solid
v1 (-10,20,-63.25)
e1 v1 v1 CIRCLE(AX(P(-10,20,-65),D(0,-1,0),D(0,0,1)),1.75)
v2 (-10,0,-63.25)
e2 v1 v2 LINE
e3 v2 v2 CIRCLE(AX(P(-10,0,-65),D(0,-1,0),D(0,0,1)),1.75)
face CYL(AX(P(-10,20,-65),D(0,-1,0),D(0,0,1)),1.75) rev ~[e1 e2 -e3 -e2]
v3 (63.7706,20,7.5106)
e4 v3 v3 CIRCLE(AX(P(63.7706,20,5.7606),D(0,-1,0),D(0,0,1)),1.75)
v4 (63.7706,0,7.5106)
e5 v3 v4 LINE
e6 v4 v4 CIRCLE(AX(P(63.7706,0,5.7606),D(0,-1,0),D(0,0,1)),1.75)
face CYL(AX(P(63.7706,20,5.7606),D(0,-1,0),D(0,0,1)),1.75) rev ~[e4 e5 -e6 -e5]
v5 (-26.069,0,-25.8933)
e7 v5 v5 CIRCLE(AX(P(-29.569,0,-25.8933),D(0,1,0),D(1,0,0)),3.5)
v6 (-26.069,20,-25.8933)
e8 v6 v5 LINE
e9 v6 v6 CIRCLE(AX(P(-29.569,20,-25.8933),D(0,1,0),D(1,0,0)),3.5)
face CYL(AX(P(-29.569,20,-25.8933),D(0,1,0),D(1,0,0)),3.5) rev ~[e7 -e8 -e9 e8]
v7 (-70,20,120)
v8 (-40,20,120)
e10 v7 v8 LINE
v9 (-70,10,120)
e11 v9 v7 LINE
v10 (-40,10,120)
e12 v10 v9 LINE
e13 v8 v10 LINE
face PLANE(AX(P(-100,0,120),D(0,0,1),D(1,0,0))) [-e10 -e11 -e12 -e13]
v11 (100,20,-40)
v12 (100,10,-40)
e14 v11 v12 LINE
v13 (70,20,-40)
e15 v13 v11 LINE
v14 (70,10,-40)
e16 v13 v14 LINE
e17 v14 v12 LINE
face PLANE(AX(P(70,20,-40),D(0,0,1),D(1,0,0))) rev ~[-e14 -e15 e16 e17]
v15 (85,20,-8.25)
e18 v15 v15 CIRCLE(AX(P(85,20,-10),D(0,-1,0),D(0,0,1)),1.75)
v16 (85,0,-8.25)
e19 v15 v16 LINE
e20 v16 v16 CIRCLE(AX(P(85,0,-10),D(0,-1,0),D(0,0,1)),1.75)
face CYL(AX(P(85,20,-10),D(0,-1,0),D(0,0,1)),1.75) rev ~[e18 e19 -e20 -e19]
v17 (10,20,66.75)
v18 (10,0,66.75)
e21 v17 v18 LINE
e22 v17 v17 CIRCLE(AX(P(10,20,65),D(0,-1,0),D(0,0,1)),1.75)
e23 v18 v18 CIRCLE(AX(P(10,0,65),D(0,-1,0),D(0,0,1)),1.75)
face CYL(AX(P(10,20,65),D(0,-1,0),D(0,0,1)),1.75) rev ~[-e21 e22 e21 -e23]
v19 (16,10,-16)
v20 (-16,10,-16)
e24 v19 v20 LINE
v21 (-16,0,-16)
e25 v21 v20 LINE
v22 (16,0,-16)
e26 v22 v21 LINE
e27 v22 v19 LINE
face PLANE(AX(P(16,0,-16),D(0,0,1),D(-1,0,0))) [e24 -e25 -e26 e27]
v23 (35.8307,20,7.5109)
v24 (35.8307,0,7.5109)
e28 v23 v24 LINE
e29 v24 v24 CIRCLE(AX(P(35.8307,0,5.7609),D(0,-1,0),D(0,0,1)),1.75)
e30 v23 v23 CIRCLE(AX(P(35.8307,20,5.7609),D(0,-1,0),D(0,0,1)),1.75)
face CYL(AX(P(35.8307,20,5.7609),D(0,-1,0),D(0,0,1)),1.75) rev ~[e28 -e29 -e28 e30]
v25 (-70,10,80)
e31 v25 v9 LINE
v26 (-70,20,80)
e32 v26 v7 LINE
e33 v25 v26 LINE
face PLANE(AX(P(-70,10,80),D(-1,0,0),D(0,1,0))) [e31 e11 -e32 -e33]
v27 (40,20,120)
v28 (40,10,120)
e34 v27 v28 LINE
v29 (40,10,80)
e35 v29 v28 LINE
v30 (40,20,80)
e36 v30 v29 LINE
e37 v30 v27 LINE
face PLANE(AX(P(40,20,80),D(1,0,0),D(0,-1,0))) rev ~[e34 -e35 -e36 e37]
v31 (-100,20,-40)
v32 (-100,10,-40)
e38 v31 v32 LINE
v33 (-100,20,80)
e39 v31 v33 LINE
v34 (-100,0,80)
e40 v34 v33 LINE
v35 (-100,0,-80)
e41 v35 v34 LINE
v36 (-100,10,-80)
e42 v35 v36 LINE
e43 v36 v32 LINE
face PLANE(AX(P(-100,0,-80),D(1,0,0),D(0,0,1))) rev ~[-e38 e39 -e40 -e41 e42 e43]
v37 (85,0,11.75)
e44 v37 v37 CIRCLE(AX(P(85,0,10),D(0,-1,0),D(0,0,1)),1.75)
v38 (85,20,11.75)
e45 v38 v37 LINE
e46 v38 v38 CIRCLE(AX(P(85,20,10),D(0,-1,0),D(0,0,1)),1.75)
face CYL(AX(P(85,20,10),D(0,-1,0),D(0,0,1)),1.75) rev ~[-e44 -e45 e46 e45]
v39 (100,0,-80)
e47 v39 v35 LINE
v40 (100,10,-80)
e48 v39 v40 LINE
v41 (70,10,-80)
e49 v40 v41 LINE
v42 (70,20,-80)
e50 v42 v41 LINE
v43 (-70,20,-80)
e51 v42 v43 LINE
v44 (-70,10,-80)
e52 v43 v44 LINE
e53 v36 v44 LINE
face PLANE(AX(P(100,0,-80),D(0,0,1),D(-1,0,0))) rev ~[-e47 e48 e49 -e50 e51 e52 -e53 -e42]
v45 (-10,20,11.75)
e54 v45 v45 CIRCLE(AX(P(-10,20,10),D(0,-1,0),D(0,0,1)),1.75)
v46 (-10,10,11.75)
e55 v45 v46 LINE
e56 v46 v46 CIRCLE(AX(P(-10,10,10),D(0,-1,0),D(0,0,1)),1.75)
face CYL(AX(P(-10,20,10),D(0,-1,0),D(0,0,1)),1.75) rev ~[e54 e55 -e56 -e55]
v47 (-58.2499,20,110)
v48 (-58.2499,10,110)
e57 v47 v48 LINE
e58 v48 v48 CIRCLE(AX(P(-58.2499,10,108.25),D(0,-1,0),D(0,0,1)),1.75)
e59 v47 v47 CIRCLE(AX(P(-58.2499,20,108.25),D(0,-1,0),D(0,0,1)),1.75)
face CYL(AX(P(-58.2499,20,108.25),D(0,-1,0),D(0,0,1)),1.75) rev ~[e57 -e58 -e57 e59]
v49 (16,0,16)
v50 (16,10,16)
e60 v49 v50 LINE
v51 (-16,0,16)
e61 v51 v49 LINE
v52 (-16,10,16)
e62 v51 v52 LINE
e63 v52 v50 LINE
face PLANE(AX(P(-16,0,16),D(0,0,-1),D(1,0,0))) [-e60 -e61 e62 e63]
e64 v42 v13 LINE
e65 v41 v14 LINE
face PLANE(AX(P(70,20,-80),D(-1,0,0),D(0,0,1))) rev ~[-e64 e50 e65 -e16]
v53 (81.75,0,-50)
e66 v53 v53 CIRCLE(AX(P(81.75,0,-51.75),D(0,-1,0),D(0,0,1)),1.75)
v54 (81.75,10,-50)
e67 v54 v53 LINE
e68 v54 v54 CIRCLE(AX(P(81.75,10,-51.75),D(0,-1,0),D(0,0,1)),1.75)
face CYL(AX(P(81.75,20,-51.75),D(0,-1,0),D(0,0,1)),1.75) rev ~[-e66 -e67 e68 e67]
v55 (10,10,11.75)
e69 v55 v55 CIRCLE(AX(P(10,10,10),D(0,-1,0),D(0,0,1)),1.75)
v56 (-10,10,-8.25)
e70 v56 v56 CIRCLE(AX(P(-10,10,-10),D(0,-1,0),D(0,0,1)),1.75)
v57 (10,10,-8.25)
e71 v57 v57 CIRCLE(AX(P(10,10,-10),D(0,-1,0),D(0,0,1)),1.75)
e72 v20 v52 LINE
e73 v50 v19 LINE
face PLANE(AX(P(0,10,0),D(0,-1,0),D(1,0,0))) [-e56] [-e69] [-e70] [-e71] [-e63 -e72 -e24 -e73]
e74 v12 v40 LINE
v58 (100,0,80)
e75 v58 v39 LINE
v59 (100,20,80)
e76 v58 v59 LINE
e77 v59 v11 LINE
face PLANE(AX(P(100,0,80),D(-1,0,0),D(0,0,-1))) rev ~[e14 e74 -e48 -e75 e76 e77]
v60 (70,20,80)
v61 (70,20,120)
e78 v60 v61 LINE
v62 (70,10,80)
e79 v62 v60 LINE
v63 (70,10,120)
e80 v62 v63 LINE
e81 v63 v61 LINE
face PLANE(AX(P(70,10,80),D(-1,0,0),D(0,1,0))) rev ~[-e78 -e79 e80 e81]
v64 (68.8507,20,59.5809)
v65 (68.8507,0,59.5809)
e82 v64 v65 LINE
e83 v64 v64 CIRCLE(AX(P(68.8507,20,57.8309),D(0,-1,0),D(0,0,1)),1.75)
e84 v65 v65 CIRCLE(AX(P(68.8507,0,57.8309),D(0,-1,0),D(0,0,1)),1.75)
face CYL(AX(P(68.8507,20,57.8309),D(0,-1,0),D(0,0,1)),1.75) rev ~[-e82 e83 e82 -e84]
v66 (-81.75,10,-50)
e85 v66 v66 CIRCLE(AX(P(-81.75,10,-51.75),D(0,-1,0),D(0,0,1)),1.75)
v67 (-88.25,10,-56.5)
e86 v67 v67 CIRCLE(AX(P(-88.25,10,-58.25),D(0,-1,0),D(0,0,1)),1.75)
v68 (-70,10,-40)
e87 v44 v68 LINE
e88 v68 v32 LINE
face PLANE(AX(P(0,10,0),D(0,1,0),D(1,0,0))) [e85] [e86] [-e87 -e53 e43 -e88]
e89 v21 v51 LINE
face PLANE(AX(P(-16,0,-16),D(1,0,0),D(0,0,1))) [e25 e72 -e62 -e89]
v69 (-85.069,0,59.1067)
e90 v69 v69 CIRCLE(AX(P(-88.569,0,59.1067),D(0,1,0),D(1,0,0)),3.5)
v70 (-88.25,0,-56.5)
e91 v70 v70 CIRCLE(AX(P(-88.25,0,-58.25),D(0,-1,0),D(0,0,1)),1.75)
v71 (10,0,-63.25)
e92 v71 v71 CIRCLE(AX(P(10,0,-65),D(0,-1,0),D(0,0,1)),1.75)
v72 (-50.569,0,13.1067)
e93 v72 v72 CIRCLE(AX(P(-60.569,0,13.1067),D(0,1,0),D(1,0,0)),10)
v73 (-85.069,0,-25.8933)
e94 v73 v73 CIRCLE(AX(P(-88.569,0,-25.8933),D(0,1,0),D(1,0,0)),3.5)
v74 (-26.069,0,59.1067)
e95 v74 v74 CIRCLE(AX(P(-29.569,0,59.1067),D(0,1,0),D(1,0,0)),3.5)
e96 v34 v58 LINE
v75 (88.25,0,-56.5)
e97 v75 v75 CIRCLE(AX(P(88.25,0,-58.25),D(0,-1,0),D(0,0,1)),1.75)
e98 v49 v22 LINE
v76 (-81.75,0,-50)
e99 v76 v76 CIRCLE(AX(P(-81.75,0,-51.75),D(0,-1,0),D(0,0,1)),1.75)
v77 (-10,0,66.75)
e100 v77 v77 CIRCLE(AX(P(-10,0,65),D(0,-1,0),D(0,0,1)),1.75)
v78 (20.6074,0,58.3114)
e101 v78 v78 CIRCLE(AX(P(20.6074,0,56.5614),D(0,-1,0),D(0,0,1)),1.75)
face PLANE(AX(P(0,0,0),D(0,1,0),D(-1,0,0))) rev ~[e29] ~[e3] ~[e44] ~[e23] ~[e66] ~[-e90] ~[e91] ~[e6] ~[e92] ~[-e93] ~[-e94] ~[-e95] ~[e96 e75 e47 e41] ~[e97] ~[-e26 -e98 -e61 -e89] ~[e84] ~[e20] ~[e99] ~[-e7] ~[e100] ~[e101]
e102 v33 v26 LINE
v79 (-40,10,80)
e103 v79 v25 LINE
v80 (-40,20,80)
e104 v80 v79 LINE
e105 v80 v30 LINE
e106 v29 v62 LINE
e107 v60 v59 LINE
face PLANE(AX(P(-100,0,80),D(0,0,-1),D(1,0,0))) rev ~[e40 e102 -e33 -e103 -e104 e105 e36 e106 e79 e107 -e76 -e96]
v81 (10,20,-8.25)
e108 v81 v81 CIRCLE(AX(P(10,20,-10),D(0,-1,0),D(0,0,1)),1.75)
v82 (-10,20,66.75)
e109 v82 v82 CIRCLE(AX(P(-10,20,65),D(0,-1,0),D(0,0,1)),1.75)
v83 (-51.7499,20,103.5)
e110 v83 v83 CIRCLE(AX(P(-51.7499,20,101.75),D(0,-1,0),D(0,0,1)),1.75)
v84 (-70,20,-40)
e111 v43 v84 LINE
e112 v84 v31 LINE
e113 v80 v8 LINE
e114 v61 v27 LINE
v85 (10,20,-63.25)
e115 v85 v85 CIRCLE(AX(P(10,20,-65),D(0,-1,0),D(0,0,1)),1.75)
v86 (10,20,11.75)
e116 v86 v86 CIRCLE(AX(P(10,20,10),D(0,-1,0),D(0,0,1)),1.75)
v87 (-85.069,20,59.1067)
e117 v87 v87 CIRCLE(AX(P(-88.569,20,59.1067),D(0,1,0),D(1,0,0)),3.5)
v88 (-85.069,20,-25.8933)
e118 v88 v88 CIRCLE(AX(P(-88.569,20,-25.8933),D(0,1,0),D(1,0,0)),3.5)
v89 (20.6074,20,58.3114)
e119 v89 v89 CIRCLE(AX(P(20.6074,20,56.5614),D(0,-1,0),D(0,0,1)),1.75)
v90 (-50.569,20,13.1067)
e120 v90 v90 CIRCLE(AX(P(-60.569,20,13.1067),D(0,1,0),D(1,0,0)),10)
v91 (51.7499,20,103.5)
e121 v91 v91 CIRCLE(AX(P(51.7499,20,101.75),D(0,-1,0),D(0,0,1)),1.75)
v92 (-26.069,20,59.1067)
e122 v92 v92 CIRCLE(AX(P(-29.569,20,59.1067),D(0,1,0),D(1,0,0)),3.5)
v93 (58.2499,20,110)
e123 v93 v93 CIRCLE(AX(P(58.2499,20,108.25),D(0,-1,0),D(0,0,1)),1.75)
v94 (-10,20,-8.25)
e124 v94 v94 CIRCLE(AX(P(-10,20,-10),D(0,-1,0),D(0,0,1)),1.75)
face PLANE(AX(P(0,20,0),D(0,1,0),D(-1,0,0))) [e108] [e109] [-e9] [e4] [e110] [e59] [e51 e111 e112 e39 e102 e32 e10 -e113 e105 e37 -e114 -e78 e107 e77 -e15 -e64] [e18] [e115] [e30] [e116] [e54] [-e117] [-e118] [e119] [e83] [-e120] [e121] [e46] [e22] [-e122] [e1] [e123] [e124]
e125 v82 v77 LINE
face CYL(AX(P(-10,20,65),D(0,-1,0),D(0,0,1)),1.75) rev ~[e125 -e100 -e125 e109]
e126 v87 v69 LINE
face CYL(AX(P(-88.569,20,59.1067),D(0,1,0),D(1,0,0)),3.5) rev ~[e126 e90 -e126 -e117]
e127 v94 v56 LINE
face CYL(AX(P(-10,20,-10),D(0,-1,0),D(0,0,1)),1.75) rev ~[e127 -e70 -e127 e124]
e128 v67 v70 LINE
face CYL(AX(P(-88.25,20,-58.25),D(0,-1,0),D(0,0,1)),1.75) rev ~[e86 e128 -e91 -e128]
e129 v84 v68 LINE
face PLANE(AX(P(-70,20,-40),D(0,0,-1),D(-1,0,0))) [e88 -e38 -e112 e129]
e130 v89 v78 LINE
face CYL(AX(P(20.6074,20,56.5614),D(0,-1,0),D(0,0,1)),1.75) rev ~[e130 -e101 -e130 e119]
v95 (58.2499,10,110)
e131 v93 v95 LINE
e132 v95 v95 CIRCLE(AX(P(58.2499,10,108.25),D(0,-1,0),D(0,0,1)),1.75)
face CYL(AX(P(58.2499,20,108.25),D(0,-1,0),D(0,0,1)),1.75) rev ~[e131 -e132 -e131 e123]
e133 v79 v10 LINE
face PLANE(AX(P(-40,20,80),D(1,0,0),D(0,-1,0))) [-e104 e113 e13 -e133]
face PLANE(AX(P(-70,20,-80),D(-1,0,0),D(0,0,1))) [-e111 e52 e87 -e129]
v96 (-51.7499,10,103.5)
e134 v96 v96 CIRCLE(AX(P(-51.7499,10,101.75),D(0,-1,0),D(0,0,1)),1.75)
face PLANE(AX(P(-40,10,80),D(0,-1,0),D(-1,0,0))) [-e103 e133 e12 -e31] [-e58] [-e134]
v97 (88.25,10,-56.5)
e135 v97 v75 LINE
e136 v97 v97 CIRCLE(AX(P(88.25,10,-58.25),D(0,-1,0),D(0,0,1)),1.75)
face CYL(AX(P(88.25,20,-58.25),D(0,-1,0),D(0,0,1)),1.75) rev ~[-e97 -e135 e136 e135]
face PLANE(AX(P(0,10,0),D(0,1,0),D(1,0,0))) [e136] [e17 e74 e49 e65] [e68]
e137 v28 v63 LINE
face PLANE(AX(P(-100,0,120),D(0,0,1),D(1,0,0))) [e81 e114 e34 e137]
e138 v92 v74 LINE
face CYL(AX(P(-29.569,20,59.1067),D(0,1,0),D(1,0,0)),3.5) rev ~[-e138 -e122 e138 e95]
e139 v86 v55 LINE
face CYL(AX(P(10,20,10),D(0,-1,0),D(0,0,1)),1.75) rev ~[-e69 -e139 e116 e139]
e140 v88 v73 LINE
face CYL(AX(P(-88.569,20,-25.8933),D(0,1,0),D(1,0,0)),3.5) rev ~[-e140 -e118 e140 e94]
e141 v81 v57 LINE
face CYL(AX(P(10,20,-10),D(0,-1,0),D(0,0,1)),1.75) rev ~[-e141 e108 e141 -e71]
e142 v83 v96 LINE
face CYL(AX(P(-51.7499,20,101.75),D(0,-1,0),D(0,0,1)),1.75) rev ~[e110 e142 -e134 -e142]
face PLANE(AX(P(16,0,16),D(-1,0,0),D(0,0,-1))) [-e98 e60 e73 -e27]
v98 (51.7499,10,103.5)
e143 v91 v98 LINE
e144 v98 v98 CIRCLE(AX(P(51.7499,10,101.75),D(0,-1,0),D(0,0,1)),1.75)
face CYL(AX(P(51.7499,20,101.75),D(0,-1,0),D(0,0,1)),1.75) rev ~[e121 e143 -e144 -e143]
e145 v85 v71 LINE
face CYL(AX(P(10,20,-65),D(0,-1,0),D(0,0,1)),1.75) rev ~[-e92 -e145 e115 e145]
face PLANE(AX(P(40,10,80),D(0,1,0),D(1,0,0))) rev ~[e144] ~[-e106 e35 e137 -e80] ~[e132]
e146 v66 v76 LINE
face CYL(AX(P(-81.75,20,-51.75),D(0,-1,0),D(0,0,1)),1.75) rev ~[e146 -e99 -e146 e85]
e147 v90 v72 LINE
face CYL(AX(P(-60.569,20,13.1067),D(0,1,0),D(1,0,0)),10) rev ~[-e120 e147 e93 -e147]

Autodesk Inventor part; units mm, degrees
ref_plane "YZ Plane" through (0, 0, 0) normal (1, 0, 0) x (0, 1, 0)
ref_plane "XZ Plane" through (0, 0, 0) normal (0, 1, 0) x (-1, 0, 0)
ref_plane "XY Plane" through (0, 0, 0) normal (0, 0, 1) x (1, 0, 0)
sketch "Boceto1" plane through (0, 0, 0) normal (0, 1, 0) x (-1, 0, 0)
  line L0 (100, 80) -> (-100, 80)
  line L1 (-100, 80) -> (-100, -80)
  line L2 (-100, -80) -> (100, -80)
  line L3 (100, -80) -> (100, 80)
  line L4 (100, 80) -> (-100, -80) construction
  line L5 (-100, 80) -> (100, -80) construction
  point P0 (0, 0)
  dimension "d0" = 200
  dimension "d1" = 160
extrude "Extrusión1" add sketch "Boceto1" along normal blind 20
sketch "Boceto2" plane through (0, 20, 0) normal (0, 1, 0) x (1, 0, 0)
  line L0 (-100, 80) -> (-100, -80) projected
  line L1 (-100, 80) -> (-70, 80)
  line L2 (-70, 80) -> (-70, 40)
  line L3 (-70, 40) -> (-100, 40)
  line L4 (-100, 40) -> (-100, 80)
  line L5 (100, 80) -> (-100, 80) projected
  line L6 (0, 80) -> (0, 40)
  line L7 (100, 80) -> (70, 80)
  line L8 (70, 80) -> (70, 40)
  line L9 (70, 40) -> (100, 40)
  line L10 (100, 40) -> (100, 80)
  point P0 (0, 0)
  dimension "d4" = 30
  dimension "d5" = 40
extrude "Extrusión2" cut sketch "Boceto2" against normal blind 10
sketch "Boceto3" plane through (0, 20, 0) normal (0, 1, 0) x (1, 0, 0)
  line L0 (-70, 80) -> (-70, 40) projected
  line L1 (-70, 80.0001) -> (-70, 40)
  line L2 (-70, 40) -> (-100, 40) projected
  line L3 (-100, 40) -> (-100, 80.0001)
  line L4 (-100, 40) -> (-70, 40)
  line L5 (-70, 40) -> (-70, 80)
  line L6 (-70, 80) -> (-100, 80)
  line L7 (-100, 80) -> (-100, 40)
  circle A0 centre (-88.25, 58.25) radius 1.75
  circle A1 centre (-81.75, 51.75) radius 1.75
  line L8 (100, 80) -> (-100, 80) projected
  line L9 (0, 80) -> (0, 56.5)
  circle A2 centre (88.25, 58.25) radius 1.75
  circle A3 centre (81.75, 51.75) radius 1.75
  point P0 (0, 0)
  point P1 (-64.3507, 80)
  point P2 (-74.3507, 0)
  point P3 (-85, 80)
  dimension "d23" = 21.75
  dimension "d24" = 11.75
  dimension "d26" = 11.75
hole "Agujero1" at (-81.75, 20, -51.75) at (-88.25, 20, -58.25) at (81.75, 20, -51.75) at (88.25, 20, -58.25) direction (0, -1, 0) diameter 3.5 end through all
sketch "Boceto4" plane through (-100, 0, 80) normal (0, 0, 1) x (1, 0, 0)
  line L0 (30, 20) -> (60, 20)
  line L1 (60, 20) -> (60, 10)
  line L2 (60, 10) -> (30, 10)
  line L3 (30, 10) -> (30, 20)
  line L4 (0, 0) -> (0, 20) projected
  line L5 (100, 0) -> (100, 10)
  line L6 (170, 20) -> (140, 20)
  line L7 (140, 20) -> (140, 10)
  line L8 (140, 10) -> (170, 10)
  line L9 (170, 10) -> (170, 20)
  dimension "d34" = 30
  dimension "d35" = 10
  dimension "d36" = 30
extrude "Extrusión3" add sketch "Boceto4" along normal blind 40
sketch "Boceto5" plane through (0, 20, 0) normal (0, 1, 0) x (1, 0, 0)
  line L0 (59.9999, -50) -> (69.9999, -50)
  line L1 (49.9999, -101.75) -> (49.9999, -79.9497)
  line L2 (59.9999, -108.25) -> (59.9999, -50)
  line L3 (40, -80) -> (69.9999, -80)
  line L4 (49.9999, -79.9497) -> (40, -80)
  circle A0 centre (51.7499, -101.75) radius 1.75
  circle A1 centre (58.2499, -108.25) radius 1.75
  line L5 (69.9999, -80) -> (69.9999, -120)
  line L6 (40, -120) -> (40, -80)
  line L7 (69.9999, -120) -> (40, -120)
  line L8 (0, -50) -> (0, -71.75)
  line L9 (-40, -120) -> (-40, -80)
  line L10 (-49.9999, -101.75) -> (-49.9999, -79.9497)
  circle A2 centre (-51.7499, -101.75) radius 1.75
  circle A3 centre (-58.2499, -108.25) radius 1.75
  line L11 (-40, -80) -> (-69.9999, -80)
  line L12 (-69.9999, -120) -> (-40, -120)
  line L13 (-69.9999, -80) -> (-69.9999, -120)
  line L14 (-59.9999, -108.25) -> (-59.9999, -50)
  line L15 (-40, -120) -> (-69.9999, -120)
  line L16 (-69.9999, -80) -> (-69.9999, -120)
  line L17 (-40, -120) -> (-70, -120) projected
  line L18 (-40, -80) -> (-40, -120) projected
  line L19 (-59.9999, -110) -> (-49.9999, -110)
  line L20 (-49.9999, -110) -> (-49.9999, -100)
  line L21 (-49.9999, -100) -> (-59.9999, -100)
  line L22 (-59.9999, -100) -> (-59.9999, -110)
  line L23 (-100, 40) -> (-100, -80) projected
  point P0 (0, 0)
  point P1 (-56.75, -68.25)
  point P2 (-63.25, -61.75)
  point P3 (63.25, -61.75)
  point P4 (56.75, -68.25)
  dimension "d45" = 3.5
  dimension "d46" = 3.5
  dimension "d39" = 10
  dimension "d40" = 10
  dimension "d41" = 40
  dimension "d42" = 0
  dimension "d43" = 6.5
  dimension "d44" = 6.5
  dimension "d47" = 11.7499
  dimension "d48" = 11.75
  dimension "d49" = 0
  dimension "d50" = 11.75
  dimension "d51" = 0
  dimension "d97" = 40.0001
hole "Agujero2" at (-58.2499, 20, 108.25) at (-51.7499, 20, 101.75) at (51.7499, 20, 101.75) at (58.2499, 20, 108.25) direction (0, -1, 0) diameter 3.5 end through all
sketch "Boceto6" plane through (0, 20, 0) normal (0, 1, 0) x (1, 0, 0)
  circle A0 centre (-60.569, -13.1067) radius 10
  circle A1 centre (-29.569, -59.1067) radius 3.5
  line L0 (-60.569, -13.1067) -> (-39.0083, -13.1067)
  circle A2 centre (-29.569, 25.8933) radius 3.5
  circle A3 centre (-88.569, 25.8933) radius 3.5
  circle A4 centre (-88.569, -59.1067) radius 3.5
  line L1 (70.4544, -63.0517) -> (18.4544, -63.0517)
  line L2 (18.4544, -63.0517) -> (18.4544, 6.9483)
  line L3 (18.4544, 6.9483) -> (70.4544, 6.9483)
  line L4 (70.4544, 6.9483) -> (70.4544, -63.0517)
  line L5 (70.4544, 6.9483) -> (48.4544, 6.9483)
  line L6 (48.4544, 6.9483) -> (48.4544, 48.9483)
  line L7 (48.4544, 48.9483) -> (70.4544, 48.9483)
  line L8 (70.4544, 48.9483) -> (70.4544, 6.9483)
  line L9 (77.2288, -8.158) -> (77.2281, -5.6604)
  circle A5 centre (63.7706, -5.7606) radius 1.75
  line L10 (70.7641, -24.1464) -> (70.7641, 22.2796)
  circle A6 centre (35.8307, -5.7609) radius 1.75
  line L11 (25.1581, -13.2381) -> (25.1581, -10.7404)
  circle A7 centre (68.8507, -57.8309) radius 1.75
  line L12 (26.4277, 35.0051) -> (26.4277, 37.5029)
  circle A8 centre (20.6074, -56.5614) radius 1.75
  line L13 (18.6941, -55.9176) -> (70.7641, -55.9176)
  line L14 (18.6941, -55.9176) -> (18.6941, -7.6743)
  line L15 (44.7291, -55.9176) -> (44.7291, -31.7959)
  line L16 (63.7706, -28.0517) -> (26.4277, -28.0517)
  line L17 (44.7291, -23.5247) -> (44.7291, -31.7959)
  point P0 (0, 0)
  point P1 (-60.569, -16.6067)
  point P2 (45.425, 12.8886)
  point P3 (44.7291, -28.0517)
  dimension "d59" = 7
  dimension "d60" = 7
  dimension "d61" = 7
  dimension "d62" = 39
  dimension "d63" = 46
  dimension "d64" = 59
  dimension "d65" = 46
  dimension "d66" = 39
  dimension "d67" = 59
  dimension "d68" = 52
  dimension "d69" = 70
  dimension "d70" = 22
  dimension "d71" = 42
  dimension "d72" = 3.5
  dimension "d73" = 3.5
  dimension "d74" = 3.5
  dimension "d75" = 3.5
  dimension "d142" = 17.3763
  dimension "d143" = 12.7092
  dimension "d144" = 6.6837
  dimension "d145" = 12.7089
  dimension "d146" = 5.2208
  dimension "d147" = 1.6037
  dimension "d148" = 2.1531
  dimension "d149" = 6.4903
hole "Agujero3" at (68.8507, 20, 57.8309) at (20.6074, 20, 56.5614) at (63.7706, 20, 5.7606) at (35.8307, 20, 5.7609) direction (0, -1, 0) diameter 3.5 end through all
sketch "Boceto7" plane through (0, 20, 0) normal (0, 1, 0) x (1, 0, 0)
  circle A0 centre (-60.569, -13.1067) radius 10
  circle A1 centre (-29.569, -59.1067) radius 3.5
  line L0 (-60.569, -13.1067) -> (-39.0083, -13.1067)
  circle A2 centre (-29.569, 25.8933) radius 3.5
  circle A3 centre (-88.569, 25.8933) radius 3.5
  circle A4 centre (-88.569, -59.1067) radius 3.5
  point P0 (0, 0)
  point P1 (-60.569, -16.6067)
  dimension "d83" = 7
  dimension "d84" = 7
  dimension "d85" = 7
  dimension "d86" = 39
  dimension "d87" = 46
  dimension "d88" = 59
  dimension "d89" = 46
  dimension "d90" = 39
  dimension "d91" = 59
extrude "Extrusión4" cut sketch "Boceto7" against normal blind 20
ref_plane "Plano de trabajo1" through (0, 0, -80) normal (-1, 0, 0) x (0, 0, 1)
ref_plane "Plano de trabajo2" through (100, 0, 0) normal (0, 0, -1) x (-1, 0, 0)
sketch "Boceto8" plane through (0, 20, 0) normal (0, 1, 0) x (1, 0, 0)
  line L0 (80, -15) -> (90, -15)
  circle A0 centre (85, -10) radius 1.75
  line L1 (85, 10) -> (85, -10)
  line L2 (90, -15) -> (90, 15)
  circle A1 centre (85, 10) radius 1.75
  line L3 (80, 15) -> (80, -15)
  line L4 (90, 15) -> (80, -15) construction
  line L5 (80, 15) -> (90, -15) construction
  line L6 (90, 15) -> (80, 15)
  line L7 (100, -80) -> (100, 40) projected
  line L8 (0, 0) -> (20, -20)
  line L9 (0, 0) -> (28.2843, 0) construction
  line L10 (15, -60) -> (15, -70)
  circle A2 centre (10, -65) radius 1.75
  line L11 (-10, -65) -> (10, -65)
  line L12 (15, -70) -> (-15, -70)
  circle A3 centre (-10, -65) radius 1.75
  line L13 (-15, -60) -> (15, -60)
  line L14 (-15, -70) -> (15, -60) construction
  line L15 (-15, -60) -> (15, -70) construction
  line L16 (-15, -70) -> (-15, -60)
  line L17 (0, 0) -> (18.6615, 18.6615)
  line L18 (0, 0) -> (26.3913, 0) construction
  line L19 (-15, 60) -> (-15, 70)
  circle A4 centre (-10, 65) radius 1.75
  line L20 (10, 65) -> (-10, 65)
  line L21 (-15, 70) -> (15, 70)
  circle A5 centre (10, 65) radius 1.75
  line L22 (15, 60) -> (-15, 60)
  line L23 (15, 70) -> (-15, 60) construction
  line L24 (15, 60) -> (-15, 70) construction
  line L25 (15, 70) -> (15, 60)
  line L26 (70, 80) -> (-70, 80) projected
  line L27 (-40, -80) -> (40, -80) projected
  point P0 (86.9608, 0)
  point P1 (86.9608, 0)
  point P2 (85, 15)
  point P3 (0, -69.1269)
  point P4 (0, -69.1269)
  point P5 (-15, -67.1661)
  point P6 (0, 69.7066)
  point P7 (0, 69.7066)
  point P8 (15, 67.7458)
  point P9 (-15, 65)
  point P10 (15, -65)
  dimension "d98" = 10
  dimension "d99" = 30
  dimension "d100" = 10
  dimension "d101" = 5
  dimension "d102" = 5
  dimension "d103" = 5
  dimension "d104" = 5
  dimension "d105" = 45
  dimension "d106" = 45
  dimension "d107" = 10
  dimension "d108" = 10
  dimension "d109" = 30
  dimension "d110" = 5
  dimension "d111" = 5
  dimension "d112" = 5
  dimension "d113" = 5
  dimension "d114" = 10
  dimension "d115" = 30
  dimension "d116" = 5
  dimension "d117" = 5
  dimension "d118" = 5
  dimension "d119" = 5
  dimension "d120" = 10
hole "Agujero4" at (-10, 20, -65) at (10, 20, -65) at (85, 20, -10) at (85, 20, 10) at (10, 20, 65) at (-10, 20, 65) direction (0, -1, 0) diameter 3.5 end through all
sketch "Boceto9" plane through (0, 20, 0) normal (0, 1, 0) x (1, 0, 0)
  circle A0 centre (10, -10) radius 1.75
  line L0 (6.803, 0) -> (14.6069, 0)
  line L1 (0, 0) -> (0, -4.8284)
  line L2 (0, 0) -> (20.0354, 0)
  circle A1 centre (10, 10) radius 1.75
  line L3 (0, 0) -> (0, 4.8284)
  circle A2 centre (-10, 10) radius 1.75
  circle A3 centre (-10, -10) radius 1.75
  dimension "d128" = 3.5
  dimension "d129" = 10
  dimension "d130" = 10
hole "Agujero5" at (-10, 20, 10) at (-10, 20, -10) at (10, 20, -10) at (10, 20, 10) direction (0, -1, 0) diameter 3.5 end through all
sketch "Boceto10" plane through (0, 0, 0) normal (0, -1, 0) x (1, 0, 0)
  line L0 (-16, 16) -> (16, 16)
  line L1 (16, 16) -> (16, -16)
  line L2 (16, -16) -> (-16, -16)
  line L3 (-16, -16) -> (-16, 16)
  line L4 (-16, 16) -> (16, -16) construction
  line L5 (16, 16) -> (-16, -16) construction
  point P0 (0, 0)
  point P1 (0, 0)
  dimension "d138" = 32
  dimension "d139" = 32
extrude "Extrusión5" cut sketch "Boceto10" against normal blind 10
sketch "Boceto11" plane through (0, 0, 0) normal (0, -1, 0) x (1, 0, 0)
  circle A0 centre (-88.569, 59.1067) radius 3.5 projected
  circle A1 centre (-29.569, 59.1067) radius 3.5 projected
  line L0 (-88.569, 59.1067) -> (-29.569, 59.1067)
  circle A2 centre (-29.569, -25.8933) radius 3.5 projected
  line L1 (-29.569, 59.1067) -> (-29.569, -25.8933)
  circle A3 centre (-88.569, -25.8933) radius 3.5 projected
  line L2 (-29.569, -25.8933) -> (-88.569, -25.8933)
  line L3 (-88.569, -25.8933) -> (-88.569, 59.1067)
  line L4 (-96.569, 66.6067) -> (-21.569, 66.6067)
  line L5 (-21.569, 66.6067) -> (-21.569, 51.6067)
  line L6 (-21.569, 51.6067) -> (-80.569, 51.6067)
  line L7 (-96.569, 51.6067) -> (-96.569, 66.6067)
  line L8 (-96.569, 66.6067) -> (-21.569, 51.6067) construction
  line L9 (-21.569, 66.6067) -> (-96.569, 51.6067) construction
  line L10 (-37.569, -33.3933) -> (-21.569, -33.3933)
  line L11 (-21.569, -33.3933) -> (-21.569, 66.6067)
  line L12 (-21.569, 66.6067) -> (-37.569, 66.6067)
  line L13 (-37.569, 66.6067) -> (-37.569, 51.6067)
  line L14 (-37.569, -33.3933) -> (-21.569, 66.6067) construction
  line L15 (-21.569, -33.3933) -> (-37.569, 66.6067) construction
  line L16 (-96.569, -18.3933) -> (-80.569, -18.3933)
  line L17 (-21.569, -18.3933) -> (-21.569, -33.3933)
  line L18 (-21.569, -33.3933) -> (-96.569, -33.3933)
  line L19 (-96.569, -33.3933) -> (-96.569, -18.3933)
  line L20 (-96.569, -18.3933) -> (-21.569, -33.3933) construction
  line L21 (-21.569, -18.3933) -> (-96.569, -33.3933) construction
  line L22 (-80.569, -33.3933) -> (-96.569, -33.3933)
  line L23 (-96.569, -33.3933) -> (-96.569, 66.6067)
  line L24 (-96.569, 66.6067) -> (-80.569, 66.6067)
  line L25 (-80.569, 66.6067) -> (-80.569, 51.6067)
  line L26 (-80.569, -33.3933) -> (-96.569, 66.6067) construction
  line L27 (-96.569, -33.3933) -> (-80.569, 66.6067) construction
  line L28 (-80.569, -18.3933) -> (-37.569, -18.3933)
  line L29 (-80.569, 51.6067) -> (-96.569, 51.6067)
  line L30 (-80.569, 51.6067) -> (-80.569, -33.3933)
  line L31 (-37.569, -18.3933) -> (-21.569, -18.3933)
  line L32 (-37.569, -18.3933) -> (-37.569, -33.3933)
  line L33 (-37.569, 51.6067) -> (-37.569, -18.3933)
  circle A4 centre (-88.569, 59.1067) radius 3.5
  circle A5 centre (-29.569, 59.1067) radius 3.5
  circle A6 centre (-29.569, -25.8933) radius 3.5
  circle A7 centre (-88.569, -25.8933) radius 3.5
  point P0 (0, 0)
  point P1 (-59.069, 59.1067)
  point P2 (-29.569, 16.6067)
  point P3 (-59.069, -25.8933)
  point P4 (-88.569, 16.6067)
  dimension "d150" = 75
  dimension "d151" = 15
properties part number "base_mid_20"
